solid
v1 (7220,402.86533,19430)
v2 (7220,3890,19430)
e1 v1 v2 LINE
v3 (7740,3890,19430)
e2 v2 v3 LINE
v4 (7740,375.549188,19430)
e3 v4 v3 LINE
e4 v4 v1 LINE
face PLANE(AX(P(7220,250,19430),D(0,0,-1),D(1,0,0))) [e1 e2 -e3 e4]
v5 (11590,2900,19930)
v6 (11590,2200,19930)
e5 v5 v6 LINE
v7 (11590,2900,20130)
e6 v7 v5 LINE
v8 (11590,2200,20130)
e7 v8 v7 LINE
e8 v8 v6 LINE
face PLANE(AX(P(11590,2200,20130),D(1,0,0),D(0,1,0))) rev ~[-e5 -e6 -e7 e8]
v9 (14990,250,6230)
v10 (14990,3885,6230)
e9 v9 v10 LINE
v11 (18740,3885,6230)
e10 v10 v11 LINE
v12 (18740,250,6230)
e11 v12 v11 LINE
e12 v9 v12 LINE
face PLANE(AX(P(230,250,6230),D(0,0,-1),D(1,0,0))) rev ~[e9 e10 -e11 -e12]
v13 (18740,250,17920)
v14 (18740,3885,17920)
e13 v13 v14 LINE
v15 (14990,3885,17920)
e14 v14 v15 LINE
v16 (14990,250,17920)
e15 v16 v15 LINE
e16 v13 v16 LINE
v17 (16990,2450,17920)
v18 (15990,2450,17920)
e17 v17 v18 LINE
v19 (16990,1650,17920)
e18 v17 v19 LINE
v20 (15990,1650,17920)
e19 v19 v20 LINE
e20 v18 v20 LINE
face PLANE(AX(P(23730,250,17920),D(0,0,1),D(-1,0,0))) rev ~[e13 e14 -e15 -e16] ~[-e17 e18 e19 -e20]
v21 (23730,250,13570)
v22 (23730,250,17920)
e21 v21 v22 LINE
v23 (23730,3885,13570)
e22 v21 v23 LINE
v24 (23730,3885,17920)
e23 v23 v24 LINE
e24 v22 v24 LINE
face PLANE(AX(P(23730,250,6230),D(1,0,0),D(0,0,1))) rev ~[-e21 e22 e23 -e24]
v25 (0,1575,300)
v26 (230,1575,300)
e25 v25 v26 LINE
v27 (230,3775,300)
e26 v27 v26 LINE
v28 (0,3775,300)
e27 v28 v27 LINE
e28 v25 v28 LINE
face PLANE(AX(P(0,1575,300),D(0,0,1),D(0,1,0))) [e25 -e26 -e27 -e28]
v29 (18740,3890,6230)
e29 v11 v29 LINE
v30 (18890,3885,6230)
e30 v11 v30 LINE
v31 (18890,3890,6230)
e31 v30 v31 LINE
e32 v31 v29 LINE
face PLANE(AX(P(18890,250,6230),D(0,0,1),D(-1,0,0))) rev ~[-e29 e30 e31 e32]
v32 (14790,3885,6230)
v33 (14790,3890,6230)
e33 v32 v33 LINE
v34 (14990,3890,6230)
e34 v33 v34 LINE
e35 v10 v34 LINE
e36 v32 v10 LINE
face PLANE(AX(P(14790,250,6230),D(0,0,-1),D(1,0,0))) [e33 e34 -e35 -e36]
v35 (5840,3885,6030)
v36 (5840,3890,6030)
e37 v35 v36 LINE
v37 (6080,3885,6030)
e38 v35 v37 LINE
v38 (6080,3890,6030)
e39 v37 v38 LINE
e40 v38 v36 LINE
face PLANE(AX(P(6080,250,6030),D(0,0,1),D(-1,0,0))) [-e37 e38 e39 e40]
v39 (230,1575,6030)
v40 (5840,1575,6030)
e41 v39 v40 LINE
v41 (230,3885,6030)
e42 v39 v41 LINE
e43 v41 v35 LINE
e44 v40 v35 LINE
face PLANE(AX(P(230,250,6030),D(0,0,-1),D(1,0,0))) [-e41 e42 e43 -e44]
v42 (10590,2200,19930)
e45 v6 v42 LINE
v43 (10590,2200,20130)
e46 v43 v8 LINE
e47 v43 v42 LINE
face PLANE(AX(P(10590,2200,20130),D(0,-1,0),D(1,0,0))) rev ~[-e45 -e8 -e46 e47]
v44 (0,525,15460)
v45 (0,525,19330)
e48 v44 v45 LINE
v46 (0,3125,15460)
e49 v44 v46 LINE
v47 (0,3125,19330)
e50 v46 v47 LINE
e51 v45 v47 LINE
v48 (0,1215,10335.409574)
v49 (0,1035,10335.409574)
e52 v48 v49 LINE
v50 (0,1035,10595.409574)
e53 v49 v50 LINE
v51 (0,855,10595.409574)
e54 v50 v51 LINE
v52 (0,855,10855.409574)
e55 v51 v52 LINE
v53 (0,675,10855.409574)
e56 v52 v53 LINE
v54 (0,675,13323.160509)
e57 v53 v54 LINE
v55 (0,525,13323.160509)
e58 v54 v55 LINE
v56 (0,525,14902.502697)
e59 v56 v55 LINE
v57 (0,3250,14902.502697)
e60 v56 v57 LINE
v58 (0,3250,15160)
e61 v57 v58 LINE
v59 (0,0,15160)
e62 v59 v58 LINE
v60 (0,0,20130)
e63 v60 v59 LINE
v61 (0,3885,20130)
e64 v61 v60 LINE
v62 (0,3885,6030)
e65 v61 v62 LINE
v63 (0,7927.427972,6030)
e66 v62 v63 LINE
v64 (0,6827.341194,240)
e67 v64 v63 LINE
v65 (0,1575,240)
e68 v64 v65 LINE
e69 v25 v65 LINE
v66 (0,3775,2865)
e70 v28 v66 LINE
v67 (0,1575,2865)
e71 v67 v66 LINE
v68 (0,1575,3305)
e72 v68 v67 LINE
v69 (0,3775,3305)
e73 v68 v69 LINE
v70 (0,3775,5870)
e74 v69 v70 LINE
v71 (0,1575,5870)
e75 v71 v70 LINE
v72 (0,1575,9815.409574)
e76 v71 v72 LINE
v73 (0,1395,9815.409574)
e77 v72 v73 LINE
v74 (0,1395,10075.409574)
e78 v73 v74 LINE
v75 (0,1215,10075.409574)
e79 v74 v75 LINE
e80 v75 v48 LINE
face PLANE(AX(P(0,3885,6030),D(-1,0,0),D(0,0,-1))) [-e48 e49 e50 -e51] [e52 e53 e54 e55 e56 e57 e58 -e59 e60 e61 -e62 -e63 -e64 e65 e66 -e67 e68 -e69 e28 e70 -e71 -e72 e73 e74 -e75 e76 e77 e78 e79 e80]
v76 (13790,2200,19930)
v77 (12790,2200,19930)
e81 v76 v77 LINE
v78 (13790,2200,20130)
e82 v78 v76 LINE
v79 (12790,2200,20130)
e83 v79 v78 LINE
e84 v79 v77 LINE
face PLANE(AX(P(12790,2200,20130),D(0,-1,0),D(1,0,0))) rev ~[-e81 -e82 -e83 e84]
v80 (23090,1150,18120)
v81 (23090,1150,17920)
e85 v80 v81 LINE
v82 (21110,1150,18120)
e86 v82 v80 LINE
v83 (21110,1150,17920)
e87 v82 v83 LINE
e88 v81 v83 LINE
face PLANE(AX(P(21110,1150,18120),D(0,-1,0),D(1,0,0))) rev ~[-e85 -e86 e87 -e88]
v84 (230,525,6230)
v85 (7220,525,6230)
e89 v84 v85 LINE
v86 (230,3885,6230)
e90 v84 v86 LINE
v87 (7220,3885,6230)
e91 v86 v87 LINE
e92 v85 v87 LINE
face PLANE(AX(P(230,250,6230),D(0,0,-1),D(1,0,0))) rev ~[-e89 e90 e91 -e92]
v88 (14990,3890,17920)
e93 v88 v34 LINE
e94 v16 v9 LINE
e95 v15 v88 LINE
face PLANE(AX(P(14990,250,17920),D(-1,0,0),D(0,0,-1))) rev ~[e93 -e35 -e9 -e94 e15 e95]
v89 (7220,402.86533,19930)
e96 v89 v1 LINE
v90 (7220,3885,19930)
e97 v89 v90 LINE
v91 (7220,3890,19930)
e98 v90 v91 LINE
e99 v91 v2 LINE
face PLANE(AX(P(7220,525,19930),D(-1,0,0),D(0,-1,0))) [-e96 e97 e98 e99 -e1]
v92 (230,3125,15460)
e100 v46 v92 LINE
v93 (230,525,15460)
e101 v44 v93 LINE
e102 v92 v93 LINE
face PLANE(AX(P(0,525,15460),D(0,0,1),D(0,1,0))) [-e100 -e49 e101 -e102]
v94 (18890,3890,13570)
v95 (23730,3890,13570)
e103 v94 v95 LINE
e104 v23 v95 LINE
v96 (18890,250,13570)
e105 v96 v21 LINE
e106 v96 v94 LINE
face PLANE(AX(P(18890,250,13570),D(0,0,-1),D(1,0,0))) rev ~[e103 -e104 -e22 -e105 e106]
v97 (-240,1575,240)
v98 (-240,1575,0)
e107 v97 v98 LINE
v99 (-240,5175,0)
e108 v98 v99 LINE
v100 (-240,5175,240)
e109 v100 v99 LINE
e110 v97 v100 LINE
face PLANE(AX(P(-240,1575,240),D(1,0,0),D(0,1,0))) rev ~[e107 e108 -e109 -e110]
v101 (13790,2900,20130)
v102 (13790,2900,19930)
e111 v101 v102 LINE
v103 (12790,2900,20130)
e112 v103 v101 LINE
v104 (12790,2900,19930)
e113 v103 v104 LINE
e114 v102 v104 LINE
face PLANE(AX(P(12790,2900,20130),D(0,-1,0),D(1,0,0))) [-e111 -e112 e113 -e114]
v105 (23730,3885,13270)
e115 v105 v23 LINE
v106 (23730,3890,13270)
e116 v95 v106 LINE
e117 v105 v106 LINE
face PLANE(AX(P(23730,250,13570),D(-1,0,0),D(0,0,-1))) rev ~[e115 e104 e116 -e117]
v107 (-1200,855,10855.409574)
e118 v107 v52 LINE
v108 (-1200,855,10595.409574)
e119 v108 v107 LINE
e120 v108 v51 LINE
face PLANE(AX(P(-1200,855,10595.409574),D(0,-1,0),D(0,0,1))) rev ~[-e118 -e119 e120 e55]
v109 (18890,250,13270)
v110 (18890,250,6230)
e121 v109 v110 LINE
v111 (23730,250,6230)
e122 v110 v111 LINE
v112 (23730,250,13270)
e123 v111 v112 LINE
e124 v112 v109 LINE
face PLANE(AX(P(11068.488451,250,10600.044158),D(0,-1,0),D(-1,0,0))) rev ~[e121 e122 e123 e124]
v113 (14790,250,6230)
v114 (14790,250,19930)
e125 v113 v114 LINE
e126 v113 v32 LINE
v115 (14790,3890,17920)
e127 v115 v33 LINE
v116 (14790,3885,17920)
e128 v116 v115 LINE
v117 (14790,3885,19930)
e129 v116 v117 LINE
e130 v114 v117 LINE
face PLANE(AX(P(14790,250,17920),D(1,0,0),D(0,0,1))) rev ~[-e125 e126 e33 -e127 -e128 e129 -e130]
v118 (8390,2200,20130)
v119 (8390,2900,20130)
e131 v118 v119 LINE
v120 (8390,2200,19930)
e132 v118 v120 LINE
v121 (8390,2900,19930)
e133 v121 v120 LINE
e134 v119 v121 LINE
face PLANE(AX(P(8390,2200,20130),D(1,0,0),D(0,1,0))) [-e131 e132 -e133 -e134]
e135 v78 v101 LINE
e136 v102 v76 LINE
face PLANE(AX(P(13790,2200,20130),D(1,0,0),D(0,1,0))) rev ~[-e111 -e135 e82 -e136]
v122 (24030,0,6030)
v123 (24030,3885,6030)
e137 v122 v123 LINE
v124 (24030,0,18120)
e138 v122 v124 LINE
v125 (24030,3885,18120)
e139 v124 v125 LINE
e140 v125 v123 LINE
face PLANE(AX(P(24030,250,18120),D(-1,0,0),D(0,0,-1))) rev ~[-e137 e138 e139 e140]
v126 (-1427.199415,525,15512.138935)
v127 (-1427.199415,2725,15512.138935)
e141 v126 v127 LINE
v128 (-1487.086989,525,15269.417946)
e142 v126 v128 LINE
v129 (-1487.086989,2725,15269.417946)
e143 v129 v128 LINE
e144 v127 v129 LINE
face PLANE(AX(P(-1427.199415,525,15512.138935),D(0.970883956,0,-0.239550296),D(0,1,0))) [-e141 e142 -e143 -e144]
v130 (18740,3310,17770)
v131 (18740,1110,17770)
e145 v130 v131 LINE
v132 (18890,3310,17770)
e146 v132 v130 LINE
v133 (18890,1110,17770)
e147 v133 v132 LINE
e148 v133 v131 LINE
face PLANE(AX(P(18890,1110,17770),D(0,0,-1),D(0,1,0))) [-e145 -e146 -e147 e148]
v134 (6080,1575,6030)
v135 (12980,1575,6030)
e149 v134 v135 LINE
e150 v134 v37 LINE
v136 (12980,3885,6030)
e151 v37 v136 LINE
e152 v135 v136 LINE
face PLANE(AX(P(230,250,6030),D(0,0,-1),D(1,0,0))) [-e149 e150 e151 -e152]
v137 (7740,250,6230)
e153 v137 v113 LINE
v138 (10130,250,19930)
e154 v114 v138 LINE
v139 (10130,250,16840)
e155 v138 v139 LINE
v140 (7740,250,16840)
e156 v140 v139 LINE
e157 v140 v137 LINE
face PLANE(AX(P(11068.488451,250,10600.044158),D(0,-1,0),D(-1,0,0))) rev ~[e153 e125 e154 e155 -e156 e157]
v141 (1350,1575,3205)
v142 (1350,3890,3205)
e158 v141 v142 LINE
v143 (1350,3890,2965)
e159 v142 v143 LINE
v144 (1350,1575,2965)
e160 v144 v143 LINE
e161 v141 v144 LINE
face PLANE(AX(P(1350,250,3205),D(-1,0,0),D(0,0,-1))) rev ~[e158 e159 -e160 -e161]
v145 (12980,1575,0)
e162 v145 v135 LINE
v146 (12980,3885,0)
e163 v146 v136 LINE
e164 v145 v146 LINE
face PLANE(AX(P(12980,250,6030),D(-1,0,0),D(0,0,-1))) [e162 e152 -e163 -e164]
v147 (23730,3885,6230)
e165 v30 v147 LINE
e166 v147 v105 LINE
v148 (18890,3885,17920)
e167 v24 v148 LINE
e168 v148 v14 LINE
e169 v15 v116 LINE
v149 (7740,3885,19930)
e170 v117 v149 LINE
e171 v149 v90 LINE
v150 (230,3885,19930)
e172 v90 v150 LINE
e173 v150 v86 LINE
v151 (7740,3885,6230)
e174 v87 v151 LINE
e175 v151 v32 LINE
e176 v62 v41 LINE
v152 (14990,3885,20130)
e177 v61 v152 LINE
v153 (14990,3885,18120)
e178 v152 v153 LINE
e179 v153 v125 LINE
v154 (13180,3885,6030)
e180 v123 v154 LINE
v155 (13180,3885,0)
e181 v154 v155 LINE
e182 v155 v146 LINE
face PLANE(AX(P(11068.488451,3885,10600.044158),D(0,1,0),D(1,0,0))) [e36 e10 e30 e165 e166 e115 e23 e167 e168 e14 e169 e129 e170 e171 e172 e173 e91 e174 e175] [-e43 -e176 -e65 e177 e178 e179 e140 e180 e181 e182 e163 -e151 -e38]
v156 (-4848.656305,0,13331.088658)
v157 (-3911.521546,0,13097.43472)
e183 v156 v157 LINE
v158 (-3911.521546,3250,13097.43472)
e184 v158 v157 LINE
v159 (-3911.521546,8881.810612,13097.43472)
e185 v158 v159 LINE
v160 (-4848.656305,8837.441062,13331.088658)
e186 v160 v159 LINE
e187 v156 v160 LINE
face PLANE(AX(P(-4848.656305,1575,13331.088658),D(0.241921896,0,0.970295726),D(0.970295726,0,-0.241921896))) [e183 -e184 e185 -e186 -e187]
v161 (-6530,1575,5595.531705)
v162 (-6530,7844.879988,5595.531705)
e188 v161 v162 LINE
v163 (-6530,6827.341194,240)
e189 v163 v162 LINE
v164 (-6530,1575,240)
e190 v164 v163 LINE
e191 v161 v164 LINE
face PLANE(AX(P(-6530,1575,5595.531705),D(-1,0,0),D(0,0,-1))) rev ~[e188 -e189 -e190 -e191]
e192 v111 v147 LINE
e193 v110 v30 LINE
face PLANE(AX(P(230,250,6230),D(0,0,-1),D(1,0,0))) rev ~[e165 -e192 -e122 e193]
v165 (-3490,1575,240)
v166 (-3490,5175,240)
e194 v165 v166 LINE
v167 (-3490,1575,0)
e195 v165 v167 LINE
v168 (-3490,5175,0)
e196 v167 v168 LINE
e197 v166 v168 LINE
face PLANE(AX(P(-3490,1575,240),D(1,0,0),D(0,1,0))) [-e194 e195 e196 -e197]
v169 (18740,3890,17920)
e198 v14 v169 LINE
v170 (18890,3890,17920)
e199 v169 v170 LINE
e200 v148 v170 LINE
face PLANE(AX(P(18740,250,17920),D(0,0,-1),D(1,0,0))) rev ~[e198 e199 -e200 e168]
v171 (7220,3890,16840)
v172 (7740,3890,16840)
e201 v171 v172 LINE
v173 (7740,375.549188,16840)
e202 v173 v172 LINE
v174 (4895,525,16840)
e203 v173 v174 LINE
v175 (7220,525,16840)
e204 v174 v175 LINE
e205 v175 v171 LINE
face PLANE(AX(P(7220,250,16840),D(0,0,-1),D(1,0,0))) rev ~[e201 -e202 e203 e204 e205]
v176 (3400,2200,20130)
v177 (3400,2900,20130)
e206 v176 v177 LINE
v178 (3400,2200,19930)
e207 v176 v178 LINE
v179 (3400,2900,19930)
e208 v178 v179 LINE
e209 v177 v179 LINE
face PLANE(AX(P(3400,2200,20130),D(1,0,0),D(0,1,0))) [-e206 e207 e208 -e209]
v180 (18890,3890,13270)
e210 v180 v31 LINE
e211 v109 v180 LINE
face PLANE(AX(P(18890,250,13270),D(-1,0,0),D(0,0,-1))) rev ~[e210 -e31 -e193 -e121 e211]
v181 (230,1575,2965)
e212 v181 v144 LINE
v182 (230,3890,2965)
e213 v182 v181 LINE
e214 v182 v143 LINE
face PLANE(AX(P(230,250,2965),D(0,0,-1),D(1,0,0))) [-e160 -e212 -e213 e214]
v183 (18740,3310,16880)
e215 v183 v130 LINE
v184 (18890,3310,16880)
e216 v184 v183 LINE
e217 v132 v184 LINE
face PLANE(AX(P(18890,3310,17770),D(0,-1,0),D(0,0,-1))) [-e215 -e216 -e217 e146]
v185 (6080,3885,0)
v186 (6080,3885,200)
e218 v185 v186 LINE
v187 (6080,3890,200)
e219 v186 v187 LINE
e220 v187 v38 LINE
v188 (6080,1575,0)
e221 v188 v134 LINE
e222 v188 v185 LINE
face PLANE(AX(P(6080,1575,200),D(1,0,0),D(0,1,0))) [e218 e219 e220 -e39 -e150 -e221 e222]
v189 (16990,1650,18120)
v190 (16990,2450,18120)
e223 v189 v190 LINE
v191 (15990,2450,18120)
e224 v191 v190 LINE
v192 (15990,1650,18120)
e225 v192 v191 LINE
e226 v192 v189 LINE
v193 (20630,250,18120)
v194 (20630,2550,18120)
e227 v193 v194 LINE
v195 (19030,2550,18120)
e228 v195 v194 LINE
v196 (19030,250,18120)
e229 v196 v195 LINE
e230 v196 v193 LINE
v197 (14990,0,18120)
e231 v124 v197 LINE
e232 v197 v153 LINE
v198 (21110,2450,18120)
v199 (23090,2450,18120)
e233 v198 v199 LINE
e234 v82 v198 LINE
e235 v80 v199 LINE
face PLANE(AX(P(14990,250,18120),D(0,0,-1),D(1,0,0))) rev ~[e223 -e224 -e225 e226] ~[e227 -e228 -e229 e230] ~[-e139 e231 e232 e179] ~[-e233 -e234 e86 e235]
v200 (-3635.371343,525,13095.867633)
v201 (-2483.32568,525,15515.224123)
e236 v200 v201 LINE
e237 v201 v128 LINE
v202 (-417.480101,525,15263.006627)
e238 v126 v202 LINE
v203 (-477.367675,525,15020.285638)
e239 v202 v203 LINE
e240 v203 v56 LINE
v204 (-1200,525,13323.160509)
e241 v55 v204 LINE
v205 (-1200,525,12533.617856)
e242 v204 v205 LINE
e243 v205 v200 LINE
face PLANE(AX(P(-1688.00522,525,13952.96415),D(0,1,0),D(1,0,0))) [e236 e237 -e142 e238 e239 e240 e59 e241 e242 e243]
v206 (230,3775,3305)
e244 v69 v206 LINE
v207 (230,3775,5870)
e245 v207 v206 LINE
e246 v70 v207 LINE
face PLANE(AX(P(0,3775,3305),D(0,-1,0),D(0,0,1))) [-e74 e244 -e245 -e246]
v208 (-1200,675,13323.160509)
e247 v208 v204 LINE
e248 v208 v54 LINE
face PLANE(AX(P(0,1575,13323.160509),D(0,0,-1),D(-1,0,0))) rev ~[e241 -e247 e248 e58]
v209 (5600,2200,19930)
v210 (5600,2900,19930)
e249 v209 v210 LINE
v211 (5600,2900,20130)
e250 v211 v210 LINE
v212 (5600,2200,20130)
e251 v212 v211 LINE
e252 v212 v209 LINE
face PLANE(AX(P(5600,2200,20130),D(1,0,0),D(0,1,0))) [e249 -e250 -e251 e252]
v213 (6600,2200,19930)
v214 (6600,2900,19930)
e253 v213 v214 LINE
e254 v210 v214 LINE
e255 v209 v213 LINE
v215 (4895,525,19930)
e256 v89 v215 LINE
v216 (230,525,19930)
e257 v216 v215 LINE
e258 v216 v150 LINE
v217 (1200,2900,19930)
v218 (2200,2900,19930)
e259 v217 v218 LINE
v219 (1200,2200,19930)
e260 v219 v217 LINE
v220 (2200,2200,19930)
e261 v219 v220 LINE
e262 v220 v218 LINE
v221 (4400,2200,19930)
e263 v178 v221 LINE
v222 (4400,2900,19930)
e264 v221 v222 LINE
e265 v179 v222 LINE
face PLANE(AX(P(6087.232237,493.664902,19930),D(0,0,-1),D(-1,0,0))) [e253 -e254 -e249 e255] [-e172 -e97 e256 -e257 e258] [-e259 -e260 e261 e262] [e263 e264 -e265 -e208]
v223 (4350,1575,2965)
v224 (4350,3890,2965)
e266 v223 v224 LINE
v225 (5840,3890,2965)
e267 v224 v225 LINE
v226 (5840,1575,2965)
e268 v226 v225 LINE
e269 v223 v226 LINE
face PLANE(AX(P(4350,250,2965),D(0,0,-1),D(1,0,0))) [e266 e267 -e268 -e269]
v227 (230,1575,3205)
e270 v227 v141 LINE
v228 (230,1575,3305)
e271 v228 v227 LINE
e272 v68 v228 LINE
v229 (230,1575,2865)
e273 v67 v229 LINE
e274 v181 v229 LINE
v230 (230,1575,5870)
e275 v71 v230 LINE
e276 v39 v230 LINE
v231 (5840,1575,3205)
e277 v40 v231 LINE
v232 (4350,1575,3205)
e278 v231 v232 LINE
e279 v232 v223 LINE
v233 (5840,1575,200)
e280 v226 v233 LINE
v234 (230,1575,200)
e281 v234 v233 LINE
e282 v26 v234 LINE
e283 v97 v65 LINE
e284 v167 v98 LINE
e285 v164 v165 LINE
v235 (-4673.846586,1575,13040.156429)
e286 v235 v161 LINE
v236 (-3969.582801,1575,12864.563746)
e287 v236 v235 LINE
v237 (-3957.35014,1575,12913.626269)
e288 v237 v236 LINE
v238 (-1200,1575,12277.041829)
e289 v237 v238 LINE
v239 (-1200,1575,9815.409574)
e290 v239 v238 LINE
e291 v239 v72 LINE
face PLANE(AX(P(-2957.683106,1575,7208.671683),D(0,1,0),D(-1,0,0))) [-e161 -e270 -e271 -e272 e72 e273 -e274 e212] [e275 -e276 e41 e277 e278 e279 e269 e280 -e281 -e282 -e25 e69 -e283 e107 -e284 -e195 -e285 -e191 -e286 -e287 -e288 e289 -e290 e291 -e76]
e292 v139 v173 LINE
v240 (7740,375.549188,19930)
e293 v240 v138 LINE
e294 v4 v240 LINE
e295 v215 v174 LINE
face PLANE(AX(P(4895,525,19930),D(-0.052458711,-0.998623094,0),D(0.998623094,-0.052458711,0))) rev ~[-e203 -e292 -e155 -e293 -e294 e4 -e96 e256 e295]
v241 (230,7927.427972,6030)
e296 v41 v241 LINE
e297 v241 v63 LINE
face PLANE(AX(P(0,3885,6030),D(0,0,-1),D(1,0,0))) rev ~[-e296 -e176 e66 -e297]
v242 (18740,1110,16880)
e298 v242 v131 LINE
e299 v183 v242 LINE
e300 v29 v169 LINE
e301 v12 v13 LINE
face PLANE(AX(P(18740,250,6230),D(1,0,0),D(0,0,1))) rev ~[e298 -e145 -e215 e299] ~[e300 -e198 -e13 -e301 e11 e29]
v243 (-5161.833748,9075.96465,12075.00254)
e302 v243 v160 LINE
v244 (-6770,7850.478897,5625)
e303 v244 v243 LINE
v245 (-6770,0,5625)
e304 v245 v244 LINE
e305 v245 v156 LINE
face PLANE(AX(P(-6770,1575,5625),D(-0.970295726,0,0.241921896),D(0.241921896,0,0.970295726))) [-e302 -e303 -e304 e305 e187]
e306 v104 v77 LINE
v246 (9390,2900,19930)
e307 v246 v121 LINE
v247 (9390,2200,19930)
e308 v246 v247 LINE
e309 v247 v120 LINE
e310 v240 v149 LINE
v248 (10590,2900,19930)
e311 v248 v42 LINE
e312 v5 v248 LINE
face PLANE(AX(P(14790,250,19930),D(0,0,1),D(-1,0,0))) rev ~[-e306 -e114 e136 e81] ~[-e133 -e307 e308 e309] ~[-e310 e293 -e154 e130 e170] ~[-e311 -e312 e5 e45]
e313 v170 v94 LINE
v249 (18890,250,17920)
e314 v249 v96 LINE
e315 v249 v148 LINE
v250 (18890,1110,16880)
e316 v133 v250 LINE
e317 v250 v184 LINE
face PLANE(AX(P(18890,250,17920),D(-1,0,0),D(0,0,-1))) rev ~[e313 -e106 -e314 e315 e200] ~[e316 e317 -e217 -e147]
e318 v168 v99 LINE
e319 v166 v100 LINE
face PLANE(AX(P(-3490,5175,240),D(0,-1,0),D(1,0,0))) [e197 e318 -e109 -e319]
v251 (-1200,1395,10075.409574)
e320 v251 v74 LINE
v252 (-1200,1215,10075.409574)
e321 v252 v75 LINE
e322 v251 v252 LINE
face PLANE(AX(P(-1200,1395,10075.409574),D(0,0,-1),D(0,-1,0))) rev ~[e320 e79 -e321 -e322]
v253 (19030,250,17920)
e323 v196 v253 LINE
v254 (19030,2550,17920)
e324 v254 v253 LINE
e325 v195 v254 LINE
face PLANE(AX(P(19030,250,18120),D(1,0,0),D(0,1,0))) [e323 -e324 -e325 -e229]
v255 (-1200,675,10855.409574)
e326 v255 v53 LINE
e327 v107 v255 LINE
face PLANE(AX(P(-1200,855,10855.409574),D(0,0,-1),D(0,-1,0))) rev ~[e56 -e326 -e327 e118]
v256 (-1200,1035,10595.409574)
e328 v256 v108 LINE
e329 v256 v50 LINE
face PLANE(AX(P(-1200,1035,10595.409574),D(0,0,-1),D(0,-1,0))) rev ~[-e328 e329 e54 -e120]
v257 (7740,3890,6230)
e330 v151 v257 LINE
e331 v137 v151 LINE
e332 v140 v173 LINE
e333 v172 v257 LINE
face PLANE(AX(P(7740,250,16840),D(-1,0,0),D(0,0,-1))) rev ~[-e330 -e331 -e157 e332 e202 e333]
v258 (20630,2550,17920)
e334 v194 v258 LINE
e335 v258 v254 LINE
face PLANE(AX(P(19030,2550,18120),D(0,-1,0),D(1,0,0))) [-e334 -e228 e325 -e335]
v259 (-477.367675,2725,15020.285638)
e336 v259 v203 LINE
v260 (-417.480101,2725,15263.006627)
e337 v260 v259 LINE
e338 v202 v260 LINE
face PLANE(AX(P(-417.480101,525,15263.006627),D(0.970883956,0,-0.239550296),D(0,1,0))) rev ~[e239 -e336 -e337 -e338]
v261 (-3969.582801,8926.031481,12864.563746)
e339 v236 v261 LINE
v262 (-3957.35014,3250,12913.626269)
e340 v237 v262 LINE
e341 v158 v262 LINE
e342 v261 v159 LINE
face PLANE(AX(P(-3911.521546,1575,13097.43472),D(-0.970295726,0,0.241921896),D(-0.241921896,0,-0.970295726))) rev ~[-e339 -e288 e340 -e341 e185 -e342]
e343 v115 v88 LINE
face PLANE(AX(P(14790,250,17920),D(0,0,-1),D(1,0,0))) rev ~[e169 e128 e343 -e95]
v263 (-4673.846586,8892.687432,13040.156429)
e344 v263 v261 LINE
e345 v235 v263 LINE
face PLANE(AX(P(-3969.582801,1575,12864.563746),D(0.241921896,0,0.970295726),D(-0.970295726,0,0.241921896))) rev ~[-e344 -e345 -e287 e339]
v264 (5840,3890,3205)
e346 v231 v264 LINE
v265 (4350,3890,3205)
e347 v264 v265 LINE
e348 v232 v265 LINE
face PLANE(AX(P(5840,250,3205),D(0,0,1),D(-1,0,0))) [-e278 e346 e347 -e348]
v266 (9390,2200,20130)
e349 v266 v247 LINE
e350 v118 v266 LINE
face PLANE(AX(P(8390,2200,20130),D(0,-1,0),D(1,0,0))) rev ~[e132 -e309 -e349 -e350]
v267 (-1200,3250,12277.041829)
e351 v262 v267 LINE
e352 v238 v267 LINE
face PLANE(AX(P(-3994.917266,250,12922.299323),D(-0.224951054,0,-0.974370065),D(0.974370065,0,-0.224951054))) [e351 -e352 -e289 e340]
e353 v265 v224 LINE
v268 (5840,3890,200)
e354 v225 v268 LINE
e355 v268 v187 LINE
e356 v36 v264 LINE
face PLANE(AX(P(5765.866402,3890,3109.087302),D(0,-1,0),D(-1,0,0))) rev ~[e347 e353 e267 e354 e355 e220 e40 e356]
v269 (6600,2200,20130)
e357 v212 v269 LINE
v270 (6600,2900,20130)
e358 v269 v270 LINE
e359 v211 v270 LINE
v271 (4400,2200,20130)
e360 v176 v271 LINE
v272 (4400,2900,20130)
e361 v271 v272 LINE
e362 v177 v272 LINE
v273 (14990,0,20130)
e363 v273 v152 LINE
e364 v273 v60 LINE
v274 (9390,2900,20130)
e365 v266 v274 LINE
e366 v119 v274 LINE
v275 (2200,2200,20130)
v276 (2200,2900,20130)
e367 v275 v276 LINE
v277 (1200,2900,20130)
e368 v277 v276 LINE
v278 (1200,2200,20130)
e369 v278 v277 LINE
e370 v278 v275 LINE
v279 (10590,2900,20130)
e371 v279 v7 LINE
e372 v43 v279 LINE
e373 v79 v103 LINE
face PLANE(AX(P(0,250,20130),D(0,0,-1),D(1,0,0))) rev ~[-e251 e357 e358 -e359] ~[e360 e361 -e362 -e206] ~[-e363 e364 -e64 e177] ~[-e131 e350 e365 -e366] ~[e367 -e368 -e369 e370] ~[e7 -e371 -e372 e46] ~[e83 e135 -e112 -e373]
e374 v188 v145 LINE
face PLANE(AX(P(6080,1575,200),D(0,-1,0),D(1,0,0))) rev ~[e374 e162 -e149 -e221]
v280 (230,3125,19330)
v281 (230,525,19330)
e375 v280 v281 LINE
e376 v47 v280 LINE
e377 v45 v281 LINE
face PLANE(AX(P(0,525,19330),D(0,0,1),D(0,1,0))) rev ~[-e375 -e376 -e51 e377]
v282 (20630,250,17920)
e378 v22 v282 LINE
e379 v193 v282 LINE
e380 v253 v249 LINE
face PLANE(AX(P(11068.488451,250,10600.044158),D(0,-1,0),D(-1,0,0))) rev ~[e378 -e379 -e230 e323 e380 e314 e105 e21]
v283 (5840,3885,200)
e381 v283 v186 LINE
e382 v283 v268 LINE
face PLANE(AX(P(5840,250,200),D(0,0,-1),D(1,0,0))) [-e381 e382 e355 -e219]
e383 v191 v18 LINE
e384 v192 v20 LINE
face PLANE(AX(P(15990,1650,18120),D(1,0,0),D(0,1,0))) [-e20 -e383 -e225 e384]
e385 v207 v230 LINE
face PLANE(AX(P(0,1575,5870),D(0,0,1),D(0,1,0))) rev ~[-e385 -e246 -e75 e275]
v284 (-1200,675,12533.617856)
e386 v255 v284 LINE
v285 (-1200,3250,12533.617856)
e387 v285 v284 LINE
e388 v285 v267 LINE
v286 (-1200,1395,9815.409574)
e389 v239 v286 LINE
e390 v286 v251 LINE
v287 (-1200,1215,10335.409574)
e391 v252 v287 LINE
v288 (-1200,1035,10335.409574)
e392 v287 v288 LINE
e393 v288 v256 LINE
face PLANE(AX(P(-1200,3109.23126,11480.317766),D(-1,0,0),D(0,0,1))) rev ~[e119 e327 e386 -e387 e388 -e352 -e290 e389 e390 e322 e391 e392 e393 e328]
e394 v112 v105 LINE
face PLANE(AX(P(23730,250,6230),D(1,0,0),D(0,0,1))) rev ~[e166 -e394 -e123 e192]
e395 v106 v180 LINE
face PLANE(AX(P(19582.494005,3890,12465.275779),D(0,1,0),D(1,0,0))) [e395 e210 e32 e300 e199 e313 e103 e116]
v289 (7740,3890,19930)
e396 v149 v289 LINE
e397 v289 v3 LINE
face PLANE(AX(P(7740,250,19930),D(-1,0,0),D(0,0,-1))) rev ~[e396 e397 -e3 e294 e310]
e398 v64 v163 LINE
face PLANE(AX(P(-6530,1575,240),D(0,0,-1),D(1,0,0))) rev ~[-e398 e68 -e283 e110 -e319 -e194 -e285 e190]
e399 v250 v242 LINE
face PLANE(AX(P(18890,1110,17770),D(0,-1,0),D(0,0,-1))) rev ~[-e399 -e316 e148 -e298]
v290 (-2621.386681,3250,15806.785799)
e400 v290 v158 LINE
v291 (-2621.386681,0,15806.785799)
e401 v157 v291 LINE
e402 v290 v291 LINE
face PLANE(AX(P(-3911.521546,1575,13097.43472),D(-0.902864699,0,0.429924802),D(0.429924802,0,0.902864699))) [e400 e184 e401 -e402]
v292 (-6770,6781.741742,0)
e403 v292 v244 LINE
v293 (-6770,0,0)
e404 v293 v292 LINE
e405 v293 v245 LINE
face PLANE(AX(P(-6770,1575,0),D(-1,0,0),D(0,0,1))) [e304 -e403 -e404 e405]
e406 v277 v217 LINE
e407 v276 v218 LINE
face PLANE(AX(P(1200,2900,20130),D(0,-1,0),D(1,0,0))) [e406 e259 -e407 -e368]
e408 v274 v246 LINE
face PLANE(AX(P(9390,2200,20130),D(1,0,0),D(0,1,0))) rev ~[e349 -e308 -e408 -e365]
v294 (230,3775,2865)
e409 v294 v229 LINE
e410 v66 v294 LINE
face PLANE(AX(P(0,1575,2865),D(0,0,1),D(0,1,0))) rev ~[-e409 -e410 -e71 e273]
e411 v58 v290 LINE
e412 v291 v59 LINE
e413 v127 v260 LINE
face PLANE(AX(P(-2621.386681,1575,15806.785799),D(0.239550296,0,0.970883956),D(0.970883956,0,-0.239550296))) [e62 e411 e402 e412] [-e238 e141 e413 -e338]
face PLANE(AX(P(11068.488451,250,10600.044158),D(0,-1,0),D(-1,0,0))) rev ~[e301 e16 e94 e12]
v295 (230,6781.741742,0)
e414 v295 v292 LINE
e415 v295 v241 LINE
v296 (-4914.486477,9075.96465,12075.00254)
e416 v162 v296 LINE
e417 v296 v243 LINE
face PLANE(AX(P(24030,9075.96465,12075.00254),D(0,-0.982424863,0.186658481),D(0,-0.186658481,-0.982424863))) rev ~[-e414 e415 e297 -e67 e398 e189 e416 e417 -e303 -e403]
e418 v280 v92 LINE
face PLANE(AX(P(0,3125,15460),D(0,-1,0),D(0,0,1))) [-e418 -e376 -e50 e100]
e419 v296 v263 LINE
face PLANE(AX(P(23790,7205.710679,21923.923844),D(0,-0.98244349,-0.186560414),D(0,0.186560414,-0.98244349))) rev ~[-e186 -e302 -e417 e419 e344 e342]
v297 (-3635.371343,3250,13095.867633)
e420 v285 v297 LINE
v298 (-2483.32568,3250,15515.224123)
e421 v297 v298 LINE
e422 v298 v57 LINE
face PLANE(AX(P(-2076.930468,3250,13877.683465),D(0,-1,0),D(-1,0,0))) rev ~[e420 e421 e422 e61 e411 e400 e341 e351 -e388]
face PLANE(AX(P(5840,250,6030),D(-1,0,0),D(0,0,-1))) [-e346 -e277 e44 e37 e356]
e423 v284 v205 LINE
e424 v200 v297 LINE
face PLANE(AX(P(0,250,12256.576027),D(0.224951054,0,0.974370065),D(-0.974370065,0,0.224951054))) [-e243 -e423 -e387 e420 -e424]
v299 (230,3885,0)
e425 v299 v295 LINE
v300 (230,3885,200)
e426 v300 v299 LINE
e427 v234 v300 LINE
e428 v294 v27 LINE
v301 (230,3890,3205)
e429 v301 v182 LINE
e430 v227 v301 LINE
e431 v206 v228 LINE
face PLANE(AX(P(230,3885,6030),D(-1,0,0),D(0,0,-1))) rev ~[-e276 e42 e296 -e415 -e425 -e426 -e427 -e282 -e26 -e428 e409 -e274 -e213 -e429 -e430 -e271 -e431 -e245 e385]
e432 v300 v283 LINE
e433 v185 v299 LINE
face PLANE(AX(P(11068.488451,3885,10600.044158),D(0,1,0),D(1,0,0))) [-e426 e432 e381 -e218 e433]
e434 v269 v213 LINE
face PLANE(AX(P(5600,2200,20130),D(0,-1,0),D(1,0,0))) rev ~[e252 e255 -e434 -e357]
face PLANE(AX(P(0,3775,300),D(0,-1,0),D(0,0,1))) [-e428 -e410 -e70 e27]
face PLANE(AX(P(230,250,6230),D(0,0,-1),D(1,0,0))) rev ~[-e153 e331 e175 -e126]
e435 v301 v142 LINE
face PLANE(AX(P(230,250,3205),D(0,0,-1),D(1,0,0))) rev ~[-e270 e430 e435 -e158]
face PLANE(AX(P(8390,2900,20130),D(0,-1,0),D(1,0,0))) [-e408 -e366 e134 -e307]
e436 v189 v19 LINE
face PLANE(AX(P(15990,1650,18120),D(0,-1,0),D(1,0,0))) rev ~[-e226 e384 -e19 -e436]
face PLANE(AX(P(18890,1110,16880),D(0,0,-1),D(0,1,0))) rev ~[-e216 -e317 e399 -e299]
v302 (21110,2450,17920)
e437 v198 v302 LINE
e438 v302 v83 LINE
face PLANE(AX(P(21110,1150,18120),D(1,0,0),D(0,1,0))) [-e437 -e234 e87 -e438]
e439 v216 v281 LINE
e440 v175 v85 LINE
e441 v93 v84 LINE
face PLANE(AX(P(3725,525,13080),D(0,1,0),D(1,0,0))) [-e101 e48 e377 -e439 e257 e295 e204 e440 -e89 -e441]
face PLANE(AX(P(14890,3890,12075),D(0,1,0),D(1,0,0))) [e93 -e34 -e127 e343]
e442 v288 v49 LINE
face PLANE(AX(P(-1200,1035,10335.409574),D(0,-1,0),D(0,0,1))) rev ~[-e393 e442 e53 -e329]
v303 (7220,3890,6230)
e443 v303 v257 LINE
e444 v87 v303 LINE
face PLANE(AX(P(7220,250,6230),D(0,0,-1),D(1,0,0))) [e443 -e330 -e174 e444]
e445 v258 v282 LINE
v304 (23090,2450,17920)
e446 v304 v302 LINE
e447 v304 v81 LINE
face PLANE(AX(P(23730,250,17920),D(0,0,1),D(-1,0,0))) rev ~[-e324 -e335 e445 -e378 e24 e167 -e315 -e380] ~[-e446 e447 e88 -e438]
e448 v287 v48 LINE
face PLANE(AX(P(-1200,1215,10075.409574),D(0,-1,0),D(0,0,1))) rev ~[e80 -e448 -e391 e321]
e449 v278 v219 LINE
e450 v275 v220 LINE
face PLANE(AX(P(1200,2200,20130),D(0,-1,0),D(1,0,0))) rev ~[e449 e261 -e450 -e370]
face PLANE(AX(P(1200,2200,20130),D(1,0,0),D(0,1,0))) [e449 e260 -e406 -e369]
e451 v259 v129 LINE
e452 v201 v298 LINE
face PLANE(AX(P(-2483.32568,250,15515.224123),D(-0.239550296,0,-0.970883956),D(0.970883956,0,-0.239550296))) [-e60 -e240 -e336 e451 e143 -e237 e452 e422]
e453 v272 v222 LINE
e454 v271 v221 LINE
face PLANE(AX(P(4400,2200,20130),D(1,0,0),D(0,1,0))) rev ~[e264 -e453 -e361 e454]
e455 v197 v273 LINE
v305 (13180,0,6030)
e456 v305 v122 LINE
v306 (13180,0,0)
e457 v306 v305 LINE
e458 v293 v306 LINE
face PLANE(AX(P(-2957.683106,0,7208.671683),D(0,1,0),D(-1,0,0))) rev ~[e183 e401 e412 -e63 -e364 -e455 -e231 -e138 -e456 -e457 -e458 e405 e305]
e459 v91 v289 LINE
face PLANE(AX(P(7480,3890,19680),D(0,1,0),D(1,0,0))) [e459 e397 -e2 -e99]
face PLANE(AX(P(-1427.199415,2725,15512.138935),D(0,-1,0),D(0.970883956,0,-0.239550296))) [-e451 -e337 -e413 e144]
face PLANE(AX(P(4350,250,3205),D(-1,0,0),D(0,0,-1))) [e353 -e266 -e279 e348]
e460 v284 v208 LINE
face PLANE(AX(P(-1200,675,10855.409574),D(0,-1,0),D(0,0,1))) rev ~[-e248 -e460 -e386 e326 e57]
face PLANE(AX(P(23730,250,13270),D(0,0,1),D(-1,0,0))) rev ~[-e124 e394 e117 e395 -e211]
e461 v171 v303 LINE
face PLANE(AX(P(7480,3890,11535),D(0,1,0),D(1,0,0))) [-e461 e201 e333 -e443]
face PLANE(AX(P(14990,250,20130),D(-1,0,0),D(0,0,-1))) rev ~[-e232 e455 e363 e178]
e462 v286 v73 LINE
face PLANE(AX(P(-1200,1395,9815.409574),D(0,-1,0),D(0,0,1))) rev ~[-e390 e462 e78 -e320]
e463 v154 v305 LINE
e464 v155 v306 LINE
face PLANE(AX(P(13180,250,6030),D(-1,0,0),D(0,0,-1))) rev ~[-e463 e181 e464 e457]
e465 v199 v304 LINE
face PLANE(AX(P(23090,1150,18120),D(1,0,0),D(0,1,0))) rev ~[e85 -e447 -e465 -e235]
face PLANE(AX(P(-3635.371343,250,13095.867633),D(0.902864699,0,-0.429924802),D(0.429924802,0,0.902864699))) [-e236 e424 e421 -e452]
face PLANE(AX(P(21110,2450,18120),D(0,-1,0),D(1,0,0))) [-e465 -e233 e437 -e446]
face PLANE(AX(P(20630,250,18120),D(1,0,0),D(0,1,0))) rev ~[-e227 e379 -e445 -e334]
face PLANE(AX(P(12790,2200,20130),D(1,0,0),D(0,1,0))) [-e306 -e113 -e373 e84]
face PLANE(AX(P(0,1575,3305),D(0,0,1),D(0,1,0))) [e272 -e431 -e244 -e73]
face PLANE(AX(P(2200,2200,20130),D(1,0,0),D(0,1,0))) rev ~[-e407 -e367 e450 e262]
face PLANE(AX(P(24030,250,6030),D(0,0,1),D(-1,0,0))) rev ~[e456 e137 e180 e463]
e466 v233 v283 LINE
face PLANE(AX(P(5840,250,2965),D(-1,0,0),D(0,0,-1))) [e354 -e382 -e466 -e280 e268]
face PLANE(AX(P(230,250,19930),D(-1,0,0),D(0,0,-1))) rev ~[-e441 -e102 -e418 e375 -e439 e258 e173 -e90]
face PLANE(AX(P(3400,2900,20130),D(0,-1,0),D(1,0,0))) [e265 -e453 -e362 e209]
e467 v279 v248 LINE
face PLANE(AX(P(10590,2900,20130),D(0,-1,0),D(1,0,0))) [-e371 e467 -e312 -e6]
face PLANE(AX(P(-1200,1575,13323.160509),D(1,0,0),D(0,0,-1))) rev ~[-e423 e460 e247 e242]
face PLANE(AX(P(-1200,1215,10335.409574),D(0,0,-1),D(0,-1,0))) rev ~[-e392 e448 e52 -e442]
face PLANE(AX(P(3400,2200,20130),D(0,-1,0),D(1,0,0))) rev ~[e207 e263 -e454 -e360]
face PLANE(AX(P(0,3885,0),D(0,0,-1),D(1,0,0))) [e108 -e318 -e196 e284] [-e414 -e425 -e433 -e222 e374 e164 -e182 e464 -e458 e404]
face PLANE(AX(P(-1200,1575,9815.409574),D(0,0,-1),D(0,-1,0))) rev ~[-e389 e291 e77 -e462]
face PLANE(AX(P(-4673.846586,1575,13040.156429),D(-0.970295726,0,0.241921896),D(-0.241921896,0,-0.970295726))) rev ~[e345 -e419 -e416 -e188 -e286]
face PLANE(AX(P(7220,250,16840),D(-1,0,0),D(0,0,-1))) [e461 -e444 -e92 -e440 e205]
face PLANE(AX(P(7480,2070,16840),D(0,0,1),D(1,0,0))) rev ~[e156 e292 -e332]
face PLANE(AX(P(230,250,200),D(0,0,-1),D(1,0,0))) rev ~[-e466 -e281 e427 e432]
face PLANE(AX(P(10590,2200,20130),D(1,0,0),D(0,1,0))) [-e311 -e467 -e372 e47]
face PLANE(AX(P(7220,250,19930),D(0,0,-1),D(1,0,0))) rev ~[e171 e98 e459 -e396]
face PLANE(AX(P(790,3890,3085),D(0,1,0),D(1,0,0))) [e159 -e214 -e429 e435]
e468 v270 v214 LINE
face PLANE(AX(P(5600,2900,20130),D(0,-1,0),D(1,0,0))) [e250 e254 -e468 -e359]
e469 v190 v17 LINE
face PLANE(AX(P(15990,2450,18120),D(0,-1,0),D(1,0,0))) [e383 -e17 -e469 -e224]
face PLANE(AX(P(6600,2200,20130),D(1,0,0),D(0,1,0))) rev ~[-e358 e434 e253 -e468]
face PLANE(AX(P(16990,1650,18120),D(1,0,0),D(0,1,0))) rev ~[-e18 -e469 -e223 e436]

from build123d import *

# Parameters (mm, degrees)
AUFSATZ_LINEAR_AUSTRAGEN4_DEPTH      = 250
SKIZZE5_W                            = 12750
SKIZZE5_H                            = 5830
AUFSATZ_LINEAR_AUSTRAGEN5_DEPTH      = 3635
SKIZZE6_W                            = 200
SKIZZE6_H                            = 11690
SKIZZE6_W_2                          = 520
SKIZZE6_H_2                          = 10610
SKIZZE6_H_3                          = 500
SKIZZE6_W_3                          = 1120
SKIZZE6_H_4                          = 240
AUFSATZ_LINEAR_AUSTRAGEN6_DEPTH      = 3640
SCHNITT_LINEAR_AUSTRAGEN1_REACH      = 30348.456
SKIZZE7_W                            = 1980
SKIZZE7_H                            = 1300
SKIZZE7_W_2                          = 1600
SKIZZE7_H_2                          = 2300
SKIZZE7_W_3                          = 1000
SKIZZE7_H_3                          = 800
SCHNITT_LINEAR_AUSTRAGEN2_REACH      = 27879.968
SKIZZE8_W                            = 890
SKIZZE8_H                            = 2200
SCHNITT_LINEAR_AUSTRAGEN3_REACH      = 31589.813
SKIZZE9_W                            = 3870
SKIZZE9_H                            = 2600
SKIZZE9_W_2                          = 2565
SKIZZE9_H_2                          = 2200
AUFSATZ_LINEAR_AUSTRAGEN7_DEPTH      = 3000
SKIZZE11_W                           = 6990
SKIZZE11_H                           = 13700
AUFSATZ_LINEAR_AUSTRAGEN8_DEPTH      = 275
SKIZZE12_W                           = 12750
SKIZZE12_H                           = 5830
AUFSATZ_LINEAR_AUSTRAGEN9_DEPTH      = 1325
AUFSATZ_LINEAR_AUSTRAGEN10_REACH     = 31462.736
SCHNITT_LINEAR_AUSTRAGEN4_DEPTH      = 3090
AUFSATZ_LINEAR_AUSTRAGEN12_DEPTH     = 8000
AUFSATZ_LINEAR_AUSTRAGEN13_DEPTH     = 1575
SCHNITT_LINEAR_AUSTRAGEN8_DEPTH      = 37827.06409607
SCHNITT_LINEAR_AUSTRAGEN8_DEPTH_BACK = 37827.06409607
AUFSATZ_LINEAR_AUSTRAGEN14_REACH     = 31776.265
SKIZZE21_W                           = 230
SKIZZE21_H                           = 6030
SCHNITT_LINEAR_AUSTRAGEN9_DEPTH      = 1200
SCHNITT_LINEAR_AUSTRAGEN10_DEPTH     = 1050
SKIZZE24_W                           = 1040
SKIZZE24_H                           = 2200
SCHNITT_LINEAR_AUSTRAGEN11_DEPTH     = 300
SCHNITT_LINEAR_AUSTRAGEN12_REACH     = 32636.812
SKIZZE25_W                           = 1000
SKIZZE25_H                           = 700
SCHNITT_LINEAR_AUSTRAGEN13_REACH     = 32513.828
SKIZZE26_W                           = 6900
SKIZZE26_H                           = 3817.744695197
SCHNITT_LINEAR_AUSTRAGEN14_REACH     = 32489.323
SKIZZE27_W                           = 3250
SKIZZE27_H                           = 3600


with BuildPart() as part:
    # Skizze1 → Aufsatz-Linear austragen4 (new body)
    with BuildSketch(Plane(origin=(0, 0, 0), x_dir=(1, 0, 0), z_dir=(0, 1, 0))):
        Polygon((14990, -18120), (14990, -20130), (0, -20130), (0, 0), (13180, 0), (13180, -6030), (24030, -6030), (24030, -18120), align=None)
    extrude(amount=AUFSATZ_LINEAR_AUSTRAGEN4_DEPTH)

    # Skizze5 → Aufsatz-Linear austragen5 (add)
    with BuildSketch(Plane(origin=(0, 250, 0), x_dir=(1, 0, 0), z_dir=(0, 1, 0))):
        Polygon((0, -20130), (14990, -20130), (14990, -18120), (24030, -18120), (24030, -6030), (13180, -6030), (13180, 0), (0, 0), align=None)
        Polygon((23730, -6230), (23730, -17920), (14790, -17920), (14790, -19930), (230, -19930), (230, -6230), align=None, mode=Mode.SUBTRACT)
        with Locations((6605, -3115)):
            Rectangle(SKIZZE5_W, SKIZZE5_H, mode=Mode.SUBTRACT)
    extrude(amount=AUFSATZ_LINEAR_AUSTRAGEN5_DEPTH)

    # Skizze6 → Aufsatz-Linear austragen6 (add)
    with BuildSketch(Plane(origin=(0, 250, 0), x_dir=(1, 0, 0), z_dir=(0, 1, 0))):
        Polygon((18890, -17920), (18890, -13570), (23730, -13570), (23730, -13270), (18890, -13270), (18890, -6230), (18740, -6230), (18740, -17920), align=None)
        with Locations((14890, -12075)):
            Rectangle(SKIZZE6_W, SKIZZE6_H)
        Polygon((5840, -200), (6080, -200), (6080, -6030), (5840, -6030), (5840, -3205), (4350, -3205), (4350, -2965), (5840, -2965), align=None)
        with Locations((7480, -11535)):
            Rectangle(SKIZZE6_W_2, SKIZZE6_H_2)
        with Locations((7480, -19680)):
            Rectangle(SKIZZE6_W_2, SKIZZE6_H_3)
        with Locations((790, -3085)):
            Rectangle(SKIZZE6_W_3, SKIZZE6_H_4)
    extrude(amount=AUFSATZ_LINEAR_AUSTRAGEN6_DEPTH)

    # Skizze7 → Schnitt-Linear austragen1 (cut, up to next)
    with BuildSketch(Plane.XY.offset(18120), mode=Mode.PRIVATE) as schnitt_linear_austragen1_sk1:
        with Locations((22100, 1800)):
            Rectangle(SKIZZE7_W, SKIZZE7_H)
    schnitt_linear_austragen1_tool1 = extrude(schnitt_linear_austragen1_sk1.sketch, amount=-SCHNITT_LINEAR_AUSTRAGEN1_REACH, mode=Mode.PRIVATE) & part.part
    # Skizze7 → Schnitt-Linear austragen1 (cut, up to next)
    with BuildSketch(Plane.XY.offset(18120), mode=Mode.PRIVATE) as schnitt_linear_austragen1_sk2:
        with Locations((19830, 1400)):
            Rectangle(SKIZZE7_W_2, SKIZZE7_H_2)
    schnitt_linear_austragen1_tool2 = extrude(schnitt_linear_austragen1_sk2.sketch, amount=-SCHNITT_LINEAR_AUSTRAGEN1_REACH, mode=Mode.PRIVATE) & part.part
    # Skizze7 → Schnitt-Linear austragen1 (cut, up to next)
    with BuildSketch(Plane.XY.offset(18120), mode=Mode.PRIVATE) as schnitt_linear_austragen1_sk3:
        with Locations((16490, 2050)):
            Rectangle(SKIZZE7_W_3, SKIZZE7_H_3)
    schnitt_linear_austragen1_tool3 = extrude(schnitt_linear_austragen1_sk3.sketch, amount=-SCHNITT_LINEAR_AUSTRAGEN1_REACH, mode=Mode.PRIVATE) & part.part
    add(schnitt_linear_austragen1_tool1.solids().sort_by_distance((22100, 1800, 18120))[0], mode=Mode.SUBTRACT)
    add(schnitt_linear_austragen1_tool2.solids().sort_by_distance((19830, 1400, 18120))[0], mode=Mode.SUBTRACT)
    add(schnitt_linear_austragen1_tool3.solids().sort_by_distance((16490, 2050, 18120))[0], mode=Mode.SUBTRACT)

    # Skizze8 → Schnitt-Linear austragen2 (cut, up to next)
    with BuildSketch(Plane(origin=(18890, 0, 0), x_dir=(0, 0, -1), z_dir=(1, 0, 0)), mode=Mode.PRIVATE) as schnitt_linear_austragen2_sk1:
        with Locations((-17325, 2210)):
            Rectangle(SKIZZE8_W, SKIZZE8_H)
    schnitt_linear_austragen2_tool1 = extrude(schnitt_linear_austragen2_sk1.sketch, amount=-SCHNITT_LINEAR_AUSTRAGEN2_REACH, mode=Mode.PRIVATE) & part.part
    add(schnitt_linear_austragen2_tool1.solids().sort_by_distance((18890, 2210, 17325))[0], mode=Mode.SUBTRACT)

    # Skizze9 → Schnitt-Linear austragen3 (cut, up to next)
    with BuildSketch(Plane.ZY, mode=Mode.PRIVATE) as schnitt_linear_austragen3_sk1:
        with Locations((17395, 1825)):
            Rectangle(SKIZZE9_W, SKIZZE9_H)
    schnitt_linear_austragen3_tool1 = extrude(schnitt_linear_austragen3_sk1.sketch, amount=-SCHNITT_LINEAR_AUSTRAGEN3_REACH, mode=Mode.PRIVATE) & part.part
    # Skizze9 → Schnitt-Linear austragen3 (cut, up to next)
    with BuildSketch(Plane.ZY, mode=Mode.PRIVATE) as schnitt_linear_austragen3_sk2:
        with Locations((1582.5, 2675)):
            Rectangle(SKIZZE9_W_2, SKIZZE9_H_2)
    schnitt_linear_austragen3_tool2 = extrude(schnitt_linear_austragen3_sk2.sketch, amount=-SCHNITT_LINEAR_AUSTRAGEN3_REACH, mode=Mode.PRIVATE) & part.part
    # Skizze9 → Schnitt-Linear austragen3 (cut, up to next)
    with BuildSketch(Plane.ZY, mode=Mode.PRIVATE) as schnitt_linear_austragen3_sk3:
        with Locations((4587.5, 2675)):
            Rectangle(SKIZZE9_W_2, SKIZZE9_H_2)
    schnitt_linear_austragen3_tool3 = extrude(schnitt_linear_austragen3_sk3.sketch, amount=-SCHNITT_LINEAR_AUSTRAGEN3_REACH, mode=Mode.PRIVATE) & part.part
    add(schnitt_linear_austragen3_tool1.solids().sort_by_distance((0, 1825, 17395))[0], mode=Mode.SUBTRACT)
    add(schnitt_linear_austragen3_tool2.solids().sort_by_distance((0, 2675, 1582.5))[0], mode=Mode.SUBTRACT)
    add(schnitt_linear_austragen3_tool3.solids().sort_by_distance((0, 2675, 4587.5))[0], mode=Mode.SUBTRACT)

    # Skizze10 → Aufsatz-Linear austragen7 (add)
    with BuildSketch(Plane(origin=(0, 250, 0), x_dir=(1, 0, 0), z_dir=(0, 1, 0))):
        Polygon((0, -14902.502697154), (0, -15160), (-2621.386680711, -15806.785799313), (-3994.91726562, -12922.29932281), (0, -12000), (0, -12256.576026948), (-3635.371342731, -13095.867632914), (-2483.325679823, -15515.224123031), align=None)
    extrude(amount=AUFSATZ_LINEAR_AUSTRAGEN7_DEPTH)

    # Skizze11 → Aufsatz-Linear austragen8 (add)
    with BuildSketch(Plane(origin=(0, 250, 0), x_dir=(1, 0, 0), z_dir=(0, 1, 0))):
        with Locations((3725, -13080)):
            Rectangle(SKIZZE11_W, SKIZZE11_H)
    extrude(amount=AUFSATZ_LINEAR_AUSTRAGEN8_DEPTH)

    # Skizze12 → Aufsatz-Linear austragen9 (add)
    with BuildSketch(Plane(origin=(0, 250, 0), x_dir=(1, 0, 0), z_dir=(0, 1, 0))):
        with Locations((6605, -3115)):
            Rectangle(SKIZZE12_W, SKIZZE12_H)
    extrude(amount=AUFSATZ_LINEAR_AUSTRAGEN9_DEPTH)

    # Aufsatz-Linear austragen10: up to this face of the body (flat: up to its plane)
    aufsatz_linear_austragen10_end = Plane(part.part.faces().sort_by_distance((7480, 2070, 16840))[0])
    # Skizze13 → Aufsatz-Linear austragen10 (add, up to the picked face)
    with BuildSketch(Plane(origin=(0, 0, 19930), x_dir=(-1, 0, 0), z_dir=(0, 0, -1)), mode=Mode.PRIVATE) as aufsatz_linear_austragen10_sk1:
        Polygon((-4895, 525), (-10130, 250), (-4895, 250), align=None)
    aufsatz_linear_austragen10_tool1 = split(extrude(aufsatz_linear_austragen10_sk1.sketch, amount=AUFSATZ_LINEAR_AUSTRAGEN10_REACH, mode=Mode.PRIVATE), bisect_by=aufsatz_linear_austragen10_end, keep=Keep.BOTH, mode=Mode.PRIVATE)
    add(aufsatz_linear_austragen10_tool1.solids().sort_by(Axis((6640, 341.666667, 19930), (0, 0, -1)))[0])

    # Skizze14 → Schnitt-Linear austragen4 (cut)
    with BuildSketch(Plane(origin=(0, 0, 19930), x_dir=(-1, 0, 0), z_dir=(0, 0, -1))):
        Polygon((-4895, 525), (-7220, 525), (-7220, 402.865329513), align=None)
    extrude(amount=SCHNITT_LINEAR_AUSTRAGEN4_DEPTH, mode=Mode.SUBTRACT)

    # Skizze18 → Aufsatz-Linear austragen12 (add)
    with BuildSketch(Plane(origin=(0, 1575, 0), x_dir=(1, 0, 0), z_dir=(0, 1, 0))):
        Polygon((0, 0), (-6770, 0), (-6770, -5625), (-4848.656305147, -13331.088658084), (-3911.521546198, -13097.43472024), (-3969.582801141, -12864.563745934), (-4673.846585785, -13040.156428834), (-6530, -5595.531705383), (-6530, -240), (0, -240), align=None)
    extrude(amount=AUFSATZ_LINEAR_AUSTRAGEN12_DEPTH)

    # Skizze19 → Aufsatz-Linear austragen13 (add)
    with BuildSketch(Plane.XZ.offset(-1575)):
        Polygon((-2621.386680711, 15806.785799313), (0, 15160), (0, 0), (-6770, 0), (-6770, 5625), (-4848.656305147, 13331.088658084), (-3911.521546198, 13097.43472024), align=None)
    extrude(amount=AUFSATZ_LINEAR_AUSTRAGEN13_DEPTH)

    # Skizze20 → Schnitt-Linear austragen8 (cut, two sides)
    with BuildSketch(Plane.ZY.offset(-23790)) as schnitt_linear_austragen8_sk:
        Polygon((12075.002540109, 9075.964650046), (-1187.358000417, 6556.146433623), (-1198.809144532, 13266.908889698), (21923.923844096, 13266.908889698), (21923.923844096, 7205.71067909), align=None)
    extrude(amount=SCHNITT_LINEAR_AUSTRAGEN8_DEPTH, mode=Mode.SUBTRACT)
    extrude(schnitt_linear_austragen8_sk.sketch, amount=-SCHNITT_LINEAR_AUSTRAGEN8_DEPTH_BACK, mode=Mode.SUBTRACT)

    # Aufsatz-Linear austragen14: up to this plane
    aufsatz_linear_austragen14_end = Plane(origin=(24030, 9075.964650046, 12075.002540109), z_dir=(0, -0.982424863110441, 0.18665848049963168))
    # Skizze21 → Aufsatz-Linear austragen14 (add, up to the surface)
    with BuildSketch(Plane(origin=(0, 3885, 0), x_dir=(1, 0, 0), z_dir=(0, 1, 0)), mode=Mode.PRIVATE) as aufsatz_linear_austragen14_sk1:
        with Locations((115, -3015)):
            Rectangle(SKIZZE21_W, SKIZZE21_H)
    aufsatz_linear_austragen14_tool1 = split(extrude(aufsatz_linear_austragen14_sk1.sketch, amount=AUFSATZ_LINEAR_AUSTRAGEN14_REACH, mode=Mode.PRIVATE), bisect_by=aufsatz_linear_austragen14_end, keep=Keep.BOTH, mode=Mode.PRIVATE)
    add(aufsatz_linear_austragen14_tool1.solids().sort_by_distance((115, 3885, 3015))[0])

    # Skizze22 → Schnitt-Linear austragen9 (cut)
    with BuildSketch(Plane.ZY.offset(1200)):
        Polygon((9555.409574458, 1575), (9815.409574458, 1575), (9815.409574458, 1395), (10075.409574458, 1395), (10075.409574458, 1215), (10335.409574458, 1215), (10335.409574458, 1035), (10595.409574458, 1035), (10595.409574458, 855), (10855.409574458, 855), (10855.409574458, 675), (13323.160508591, 675), (13323.160508591, 5461.397070598), (9555.409574458, 5461.397070598), align=None)
    extrude(amount=-SCHNITT_LINEAR_AUSTRAGEN9_DEPTH, mode=Mode.SUBTRACT)

    # Skizze23 → Schnitt-Linear austragen10 (cut)
    with BuildSketch(Plane(origin=(0, 1575, 0), x_dir=(1, 0, 0), z_dir=(0, 1, 0))):
        Polygon((-1200, -13323.160508591), (-1200, -12533.617856299), (-3635.371342731, -13095.867632914), (-2483.325679823, -15515.224123031), (0, -14902.502697154), (0, -13323.160508591), align=None)
    extrude(amount=-SCHNITT_LINEAR_AUSTRAGEN10_DEPTH, mode=Mode.SUBTRACT)

    # Skizze24 → Schnitt-Linear austragen11 (cut)
    with BuildSketch(Plane(origin=(3525.845171827, 0, 14290.0533399), x_dir=(0.9708839558187317, 0, -0.23955029604191938), z_dir=(0.23955029604191938, 0, 0.9708839558187317))):
        with Locations((-4581.582487995, 1625)):
            Rectangle(SKIZZE24_W, SKIZZE24_H)
    extrude(amount=-SCHNITT_LINEAR_AUSTRAGEN11_DEPTH, mode=Mode.SUBTRACT)

    # Skizze25 → Schnitt-Linear austragen12 (cut, up to next)
    with BuildSketch(Plane.XY.offset(20130), mode=Mode.PRIVATE) as schnitt_linear_austragen12_sk1:
        with Locations((1700, 2550)):
            Rectangle(SKIZZE25_W, SKIZZE25_H)
    schnitt_linear_austragen12_tool1 = extrude(schnitt_linear_austragen12_sk1.sketch, amount=-SCHNITT_LINEAR_AUSTRAGEN12_REACH, mode=Mode.PRIVATE) & part.part
    # Skizze25 → Schnitt-Linear austragen12 (cut, up to next)
    with BuildSketch(Plane.XY.offset(20130), mode=Mode.PRIVATE) as schnitt_linear_austragen12_sk2:
        with Locations((3900, 2550)):
            Rectangle(SKIZZE25_W, SKIZZE25_H)
    schnitt_linear_austragen12_tool2 = extrude(schnitt_linear_austragen12_sk2.sketch, amount=-SCHNITT_LINEAR_AUSTRAGEN12_REACH, mode=Mode.PRIVATE) & part.part
    # Skizze25 → Schnitt-Linear austragen12 (cut, up to next)
    with BuildSketch(Plane.XY.offset(20130), mode=Mode.PRIVATE) as schnitt_linear_austragen12_sk3:
        with Locations((6100, 2550)):
            Rectangle(SKIZZE25_W, SKIZZE25_H)
    schnitt_linear_austragen12_tool3 = extrude(schnitt_linear_austragen12_sk3.sketch, amount=-SCHNITT_LINEAR_AUSTRAGEN12_REACH, mode=Mode.PRIVATE) & part.part
    # Skizze25 → Schnitt-Linear austragen12 (cut, up to next)
    with BuildSketch(Plane.XY.offset(20130), mode=Mode.PRIVATE) as schnitt_linear_austragen12_sk4:
        with Locations((8890, 2550)):
            Rectangle(SKIZZE25_W, SKIZZE25_H)
    schnitt_linear_austragen12_tool4 = extrude(schnitt_linear_austragen12_sk4.sketch, amount=-SCHNITT_LINEAR_AUSTRAGEN12_REACH, mode=Mode.PRIVATE) & part.part
    # Skizze25 → Schnitt-Linear austragen12 (cut, up to next)
    with BuildSketch(Plane.XY.offset(20130), mode=Mode.PRIVATE) as schnitt_linear_austragen12_sk5:
        with Locations((11090, 2550)):
            Rectangle(SKIZZE25_W, SKIZZE25_H)
    schnitt_linear_austragen12_tool5 = extrude(schnitt_linear_austragen12_sk5.sketch, amount=-SCHNITT_LINEAR_AUSTRAGEN12_REACH, mode=Mode.PRIVATE) & part.part
    # Skizze25 → Schnitt-Linear austragen12 (cut, up to next)
    with BuildSketch(Plane.XY.offset(20130), mode=Mode.PRIVATE) as schnitt_linear_austragen12_sk6:
        with Locations((13290, 2550)):
            Rectangle(SKIZZE25_W, SKIZZE25_H)
    schnitt_linear_austragen12_tool6 = extrude(schnitt_linear_austragen12_sk6.sketch, amount=-SCHNITT_LINEAR_AUSTRAGEN12_REACH, mode=Mode.PRIVATE) & part.part
    add(schnitt_linear_austragen12_tool1.solids().sort_by_distance((1700, 2550, 20130))[0], mode=Mode.SUBTRACT)
    add(schnitt_linear_austragen12_tool2.solids().sort_by_distance((3900, 2550, 20130))[0], mode=Mode.SUBTRACT)
    add(schnitt_linear_austragen12_tool3.solids().sort_by_distance((6100, 2550, 20130))[0], mode=Mode.SUBTRACT)
    add(schnitt_linear_austragen12_tool4.solids().sort_by_distance((8890, 2550, 20130))[0], mode=Mode.SUBTRACT)
    add(schnitt_linear_austragen12_tool5.solids().sort_by_distance((11090, 2550, 20130))[0], mode=Mode.SUBTRACT)
    add(schnitt_linear_austragen12_tool6.solids().sort_by_distance((13290, 2550, 20130))[0], mode=Mode.SUBTRACT)

    # Skizze26 → Schnitt-Linear austragen13 (cut, up to next)
    with BuildSketch(Plane.XY.offset(200), mode=Mode.PRIVATE) as schnitt_linear_austragen13_sk1:
        with Locations((9530, 3483.872347599)):
            Rectangle(SKIZZE26_W, SKIZZE26_H)
    schnitt_linear_austragen13_tool1 = extrude(schnitt_linear_austragen13_sk1.sketch, amount=-SCHNITT_LINEAR_AUSTRAGEN13_REACH, mode=Mode.PRIVATE) & part.part
    add(schnitt_linear_austragen13_tool1.solids().sort_by_distance((9530, 3483.872348, 200))[0], mode=Mode.SUBTRACT)

    # Skizze27 → Schnitt-Linear austragen14 (cut, up to next)
    with BuildSketch(Plane.XY.offset(240), mode=Mode.PRIVATE) as schnitt_linear_austragen14_sk1:
        with Locations((-1865, 3375)):
            Rectangle(SKIZZE27_W, SKIZZE27_H)
    schnitt_linear_austragen14_tool1 = extrude(schnitt_linear_austragen14_sk1.sketch, amount=-SCHNITT_LINEAR_AUSTRAGEN14_REACH, mode=Mode.PRIVATE) & part.part
    add(schnitt_linear_austragen14_tool1.solids().sort_by_distance((-1865, 3375, 240))[0], mode=Mode.SUBTRACT)


solid = part.part
